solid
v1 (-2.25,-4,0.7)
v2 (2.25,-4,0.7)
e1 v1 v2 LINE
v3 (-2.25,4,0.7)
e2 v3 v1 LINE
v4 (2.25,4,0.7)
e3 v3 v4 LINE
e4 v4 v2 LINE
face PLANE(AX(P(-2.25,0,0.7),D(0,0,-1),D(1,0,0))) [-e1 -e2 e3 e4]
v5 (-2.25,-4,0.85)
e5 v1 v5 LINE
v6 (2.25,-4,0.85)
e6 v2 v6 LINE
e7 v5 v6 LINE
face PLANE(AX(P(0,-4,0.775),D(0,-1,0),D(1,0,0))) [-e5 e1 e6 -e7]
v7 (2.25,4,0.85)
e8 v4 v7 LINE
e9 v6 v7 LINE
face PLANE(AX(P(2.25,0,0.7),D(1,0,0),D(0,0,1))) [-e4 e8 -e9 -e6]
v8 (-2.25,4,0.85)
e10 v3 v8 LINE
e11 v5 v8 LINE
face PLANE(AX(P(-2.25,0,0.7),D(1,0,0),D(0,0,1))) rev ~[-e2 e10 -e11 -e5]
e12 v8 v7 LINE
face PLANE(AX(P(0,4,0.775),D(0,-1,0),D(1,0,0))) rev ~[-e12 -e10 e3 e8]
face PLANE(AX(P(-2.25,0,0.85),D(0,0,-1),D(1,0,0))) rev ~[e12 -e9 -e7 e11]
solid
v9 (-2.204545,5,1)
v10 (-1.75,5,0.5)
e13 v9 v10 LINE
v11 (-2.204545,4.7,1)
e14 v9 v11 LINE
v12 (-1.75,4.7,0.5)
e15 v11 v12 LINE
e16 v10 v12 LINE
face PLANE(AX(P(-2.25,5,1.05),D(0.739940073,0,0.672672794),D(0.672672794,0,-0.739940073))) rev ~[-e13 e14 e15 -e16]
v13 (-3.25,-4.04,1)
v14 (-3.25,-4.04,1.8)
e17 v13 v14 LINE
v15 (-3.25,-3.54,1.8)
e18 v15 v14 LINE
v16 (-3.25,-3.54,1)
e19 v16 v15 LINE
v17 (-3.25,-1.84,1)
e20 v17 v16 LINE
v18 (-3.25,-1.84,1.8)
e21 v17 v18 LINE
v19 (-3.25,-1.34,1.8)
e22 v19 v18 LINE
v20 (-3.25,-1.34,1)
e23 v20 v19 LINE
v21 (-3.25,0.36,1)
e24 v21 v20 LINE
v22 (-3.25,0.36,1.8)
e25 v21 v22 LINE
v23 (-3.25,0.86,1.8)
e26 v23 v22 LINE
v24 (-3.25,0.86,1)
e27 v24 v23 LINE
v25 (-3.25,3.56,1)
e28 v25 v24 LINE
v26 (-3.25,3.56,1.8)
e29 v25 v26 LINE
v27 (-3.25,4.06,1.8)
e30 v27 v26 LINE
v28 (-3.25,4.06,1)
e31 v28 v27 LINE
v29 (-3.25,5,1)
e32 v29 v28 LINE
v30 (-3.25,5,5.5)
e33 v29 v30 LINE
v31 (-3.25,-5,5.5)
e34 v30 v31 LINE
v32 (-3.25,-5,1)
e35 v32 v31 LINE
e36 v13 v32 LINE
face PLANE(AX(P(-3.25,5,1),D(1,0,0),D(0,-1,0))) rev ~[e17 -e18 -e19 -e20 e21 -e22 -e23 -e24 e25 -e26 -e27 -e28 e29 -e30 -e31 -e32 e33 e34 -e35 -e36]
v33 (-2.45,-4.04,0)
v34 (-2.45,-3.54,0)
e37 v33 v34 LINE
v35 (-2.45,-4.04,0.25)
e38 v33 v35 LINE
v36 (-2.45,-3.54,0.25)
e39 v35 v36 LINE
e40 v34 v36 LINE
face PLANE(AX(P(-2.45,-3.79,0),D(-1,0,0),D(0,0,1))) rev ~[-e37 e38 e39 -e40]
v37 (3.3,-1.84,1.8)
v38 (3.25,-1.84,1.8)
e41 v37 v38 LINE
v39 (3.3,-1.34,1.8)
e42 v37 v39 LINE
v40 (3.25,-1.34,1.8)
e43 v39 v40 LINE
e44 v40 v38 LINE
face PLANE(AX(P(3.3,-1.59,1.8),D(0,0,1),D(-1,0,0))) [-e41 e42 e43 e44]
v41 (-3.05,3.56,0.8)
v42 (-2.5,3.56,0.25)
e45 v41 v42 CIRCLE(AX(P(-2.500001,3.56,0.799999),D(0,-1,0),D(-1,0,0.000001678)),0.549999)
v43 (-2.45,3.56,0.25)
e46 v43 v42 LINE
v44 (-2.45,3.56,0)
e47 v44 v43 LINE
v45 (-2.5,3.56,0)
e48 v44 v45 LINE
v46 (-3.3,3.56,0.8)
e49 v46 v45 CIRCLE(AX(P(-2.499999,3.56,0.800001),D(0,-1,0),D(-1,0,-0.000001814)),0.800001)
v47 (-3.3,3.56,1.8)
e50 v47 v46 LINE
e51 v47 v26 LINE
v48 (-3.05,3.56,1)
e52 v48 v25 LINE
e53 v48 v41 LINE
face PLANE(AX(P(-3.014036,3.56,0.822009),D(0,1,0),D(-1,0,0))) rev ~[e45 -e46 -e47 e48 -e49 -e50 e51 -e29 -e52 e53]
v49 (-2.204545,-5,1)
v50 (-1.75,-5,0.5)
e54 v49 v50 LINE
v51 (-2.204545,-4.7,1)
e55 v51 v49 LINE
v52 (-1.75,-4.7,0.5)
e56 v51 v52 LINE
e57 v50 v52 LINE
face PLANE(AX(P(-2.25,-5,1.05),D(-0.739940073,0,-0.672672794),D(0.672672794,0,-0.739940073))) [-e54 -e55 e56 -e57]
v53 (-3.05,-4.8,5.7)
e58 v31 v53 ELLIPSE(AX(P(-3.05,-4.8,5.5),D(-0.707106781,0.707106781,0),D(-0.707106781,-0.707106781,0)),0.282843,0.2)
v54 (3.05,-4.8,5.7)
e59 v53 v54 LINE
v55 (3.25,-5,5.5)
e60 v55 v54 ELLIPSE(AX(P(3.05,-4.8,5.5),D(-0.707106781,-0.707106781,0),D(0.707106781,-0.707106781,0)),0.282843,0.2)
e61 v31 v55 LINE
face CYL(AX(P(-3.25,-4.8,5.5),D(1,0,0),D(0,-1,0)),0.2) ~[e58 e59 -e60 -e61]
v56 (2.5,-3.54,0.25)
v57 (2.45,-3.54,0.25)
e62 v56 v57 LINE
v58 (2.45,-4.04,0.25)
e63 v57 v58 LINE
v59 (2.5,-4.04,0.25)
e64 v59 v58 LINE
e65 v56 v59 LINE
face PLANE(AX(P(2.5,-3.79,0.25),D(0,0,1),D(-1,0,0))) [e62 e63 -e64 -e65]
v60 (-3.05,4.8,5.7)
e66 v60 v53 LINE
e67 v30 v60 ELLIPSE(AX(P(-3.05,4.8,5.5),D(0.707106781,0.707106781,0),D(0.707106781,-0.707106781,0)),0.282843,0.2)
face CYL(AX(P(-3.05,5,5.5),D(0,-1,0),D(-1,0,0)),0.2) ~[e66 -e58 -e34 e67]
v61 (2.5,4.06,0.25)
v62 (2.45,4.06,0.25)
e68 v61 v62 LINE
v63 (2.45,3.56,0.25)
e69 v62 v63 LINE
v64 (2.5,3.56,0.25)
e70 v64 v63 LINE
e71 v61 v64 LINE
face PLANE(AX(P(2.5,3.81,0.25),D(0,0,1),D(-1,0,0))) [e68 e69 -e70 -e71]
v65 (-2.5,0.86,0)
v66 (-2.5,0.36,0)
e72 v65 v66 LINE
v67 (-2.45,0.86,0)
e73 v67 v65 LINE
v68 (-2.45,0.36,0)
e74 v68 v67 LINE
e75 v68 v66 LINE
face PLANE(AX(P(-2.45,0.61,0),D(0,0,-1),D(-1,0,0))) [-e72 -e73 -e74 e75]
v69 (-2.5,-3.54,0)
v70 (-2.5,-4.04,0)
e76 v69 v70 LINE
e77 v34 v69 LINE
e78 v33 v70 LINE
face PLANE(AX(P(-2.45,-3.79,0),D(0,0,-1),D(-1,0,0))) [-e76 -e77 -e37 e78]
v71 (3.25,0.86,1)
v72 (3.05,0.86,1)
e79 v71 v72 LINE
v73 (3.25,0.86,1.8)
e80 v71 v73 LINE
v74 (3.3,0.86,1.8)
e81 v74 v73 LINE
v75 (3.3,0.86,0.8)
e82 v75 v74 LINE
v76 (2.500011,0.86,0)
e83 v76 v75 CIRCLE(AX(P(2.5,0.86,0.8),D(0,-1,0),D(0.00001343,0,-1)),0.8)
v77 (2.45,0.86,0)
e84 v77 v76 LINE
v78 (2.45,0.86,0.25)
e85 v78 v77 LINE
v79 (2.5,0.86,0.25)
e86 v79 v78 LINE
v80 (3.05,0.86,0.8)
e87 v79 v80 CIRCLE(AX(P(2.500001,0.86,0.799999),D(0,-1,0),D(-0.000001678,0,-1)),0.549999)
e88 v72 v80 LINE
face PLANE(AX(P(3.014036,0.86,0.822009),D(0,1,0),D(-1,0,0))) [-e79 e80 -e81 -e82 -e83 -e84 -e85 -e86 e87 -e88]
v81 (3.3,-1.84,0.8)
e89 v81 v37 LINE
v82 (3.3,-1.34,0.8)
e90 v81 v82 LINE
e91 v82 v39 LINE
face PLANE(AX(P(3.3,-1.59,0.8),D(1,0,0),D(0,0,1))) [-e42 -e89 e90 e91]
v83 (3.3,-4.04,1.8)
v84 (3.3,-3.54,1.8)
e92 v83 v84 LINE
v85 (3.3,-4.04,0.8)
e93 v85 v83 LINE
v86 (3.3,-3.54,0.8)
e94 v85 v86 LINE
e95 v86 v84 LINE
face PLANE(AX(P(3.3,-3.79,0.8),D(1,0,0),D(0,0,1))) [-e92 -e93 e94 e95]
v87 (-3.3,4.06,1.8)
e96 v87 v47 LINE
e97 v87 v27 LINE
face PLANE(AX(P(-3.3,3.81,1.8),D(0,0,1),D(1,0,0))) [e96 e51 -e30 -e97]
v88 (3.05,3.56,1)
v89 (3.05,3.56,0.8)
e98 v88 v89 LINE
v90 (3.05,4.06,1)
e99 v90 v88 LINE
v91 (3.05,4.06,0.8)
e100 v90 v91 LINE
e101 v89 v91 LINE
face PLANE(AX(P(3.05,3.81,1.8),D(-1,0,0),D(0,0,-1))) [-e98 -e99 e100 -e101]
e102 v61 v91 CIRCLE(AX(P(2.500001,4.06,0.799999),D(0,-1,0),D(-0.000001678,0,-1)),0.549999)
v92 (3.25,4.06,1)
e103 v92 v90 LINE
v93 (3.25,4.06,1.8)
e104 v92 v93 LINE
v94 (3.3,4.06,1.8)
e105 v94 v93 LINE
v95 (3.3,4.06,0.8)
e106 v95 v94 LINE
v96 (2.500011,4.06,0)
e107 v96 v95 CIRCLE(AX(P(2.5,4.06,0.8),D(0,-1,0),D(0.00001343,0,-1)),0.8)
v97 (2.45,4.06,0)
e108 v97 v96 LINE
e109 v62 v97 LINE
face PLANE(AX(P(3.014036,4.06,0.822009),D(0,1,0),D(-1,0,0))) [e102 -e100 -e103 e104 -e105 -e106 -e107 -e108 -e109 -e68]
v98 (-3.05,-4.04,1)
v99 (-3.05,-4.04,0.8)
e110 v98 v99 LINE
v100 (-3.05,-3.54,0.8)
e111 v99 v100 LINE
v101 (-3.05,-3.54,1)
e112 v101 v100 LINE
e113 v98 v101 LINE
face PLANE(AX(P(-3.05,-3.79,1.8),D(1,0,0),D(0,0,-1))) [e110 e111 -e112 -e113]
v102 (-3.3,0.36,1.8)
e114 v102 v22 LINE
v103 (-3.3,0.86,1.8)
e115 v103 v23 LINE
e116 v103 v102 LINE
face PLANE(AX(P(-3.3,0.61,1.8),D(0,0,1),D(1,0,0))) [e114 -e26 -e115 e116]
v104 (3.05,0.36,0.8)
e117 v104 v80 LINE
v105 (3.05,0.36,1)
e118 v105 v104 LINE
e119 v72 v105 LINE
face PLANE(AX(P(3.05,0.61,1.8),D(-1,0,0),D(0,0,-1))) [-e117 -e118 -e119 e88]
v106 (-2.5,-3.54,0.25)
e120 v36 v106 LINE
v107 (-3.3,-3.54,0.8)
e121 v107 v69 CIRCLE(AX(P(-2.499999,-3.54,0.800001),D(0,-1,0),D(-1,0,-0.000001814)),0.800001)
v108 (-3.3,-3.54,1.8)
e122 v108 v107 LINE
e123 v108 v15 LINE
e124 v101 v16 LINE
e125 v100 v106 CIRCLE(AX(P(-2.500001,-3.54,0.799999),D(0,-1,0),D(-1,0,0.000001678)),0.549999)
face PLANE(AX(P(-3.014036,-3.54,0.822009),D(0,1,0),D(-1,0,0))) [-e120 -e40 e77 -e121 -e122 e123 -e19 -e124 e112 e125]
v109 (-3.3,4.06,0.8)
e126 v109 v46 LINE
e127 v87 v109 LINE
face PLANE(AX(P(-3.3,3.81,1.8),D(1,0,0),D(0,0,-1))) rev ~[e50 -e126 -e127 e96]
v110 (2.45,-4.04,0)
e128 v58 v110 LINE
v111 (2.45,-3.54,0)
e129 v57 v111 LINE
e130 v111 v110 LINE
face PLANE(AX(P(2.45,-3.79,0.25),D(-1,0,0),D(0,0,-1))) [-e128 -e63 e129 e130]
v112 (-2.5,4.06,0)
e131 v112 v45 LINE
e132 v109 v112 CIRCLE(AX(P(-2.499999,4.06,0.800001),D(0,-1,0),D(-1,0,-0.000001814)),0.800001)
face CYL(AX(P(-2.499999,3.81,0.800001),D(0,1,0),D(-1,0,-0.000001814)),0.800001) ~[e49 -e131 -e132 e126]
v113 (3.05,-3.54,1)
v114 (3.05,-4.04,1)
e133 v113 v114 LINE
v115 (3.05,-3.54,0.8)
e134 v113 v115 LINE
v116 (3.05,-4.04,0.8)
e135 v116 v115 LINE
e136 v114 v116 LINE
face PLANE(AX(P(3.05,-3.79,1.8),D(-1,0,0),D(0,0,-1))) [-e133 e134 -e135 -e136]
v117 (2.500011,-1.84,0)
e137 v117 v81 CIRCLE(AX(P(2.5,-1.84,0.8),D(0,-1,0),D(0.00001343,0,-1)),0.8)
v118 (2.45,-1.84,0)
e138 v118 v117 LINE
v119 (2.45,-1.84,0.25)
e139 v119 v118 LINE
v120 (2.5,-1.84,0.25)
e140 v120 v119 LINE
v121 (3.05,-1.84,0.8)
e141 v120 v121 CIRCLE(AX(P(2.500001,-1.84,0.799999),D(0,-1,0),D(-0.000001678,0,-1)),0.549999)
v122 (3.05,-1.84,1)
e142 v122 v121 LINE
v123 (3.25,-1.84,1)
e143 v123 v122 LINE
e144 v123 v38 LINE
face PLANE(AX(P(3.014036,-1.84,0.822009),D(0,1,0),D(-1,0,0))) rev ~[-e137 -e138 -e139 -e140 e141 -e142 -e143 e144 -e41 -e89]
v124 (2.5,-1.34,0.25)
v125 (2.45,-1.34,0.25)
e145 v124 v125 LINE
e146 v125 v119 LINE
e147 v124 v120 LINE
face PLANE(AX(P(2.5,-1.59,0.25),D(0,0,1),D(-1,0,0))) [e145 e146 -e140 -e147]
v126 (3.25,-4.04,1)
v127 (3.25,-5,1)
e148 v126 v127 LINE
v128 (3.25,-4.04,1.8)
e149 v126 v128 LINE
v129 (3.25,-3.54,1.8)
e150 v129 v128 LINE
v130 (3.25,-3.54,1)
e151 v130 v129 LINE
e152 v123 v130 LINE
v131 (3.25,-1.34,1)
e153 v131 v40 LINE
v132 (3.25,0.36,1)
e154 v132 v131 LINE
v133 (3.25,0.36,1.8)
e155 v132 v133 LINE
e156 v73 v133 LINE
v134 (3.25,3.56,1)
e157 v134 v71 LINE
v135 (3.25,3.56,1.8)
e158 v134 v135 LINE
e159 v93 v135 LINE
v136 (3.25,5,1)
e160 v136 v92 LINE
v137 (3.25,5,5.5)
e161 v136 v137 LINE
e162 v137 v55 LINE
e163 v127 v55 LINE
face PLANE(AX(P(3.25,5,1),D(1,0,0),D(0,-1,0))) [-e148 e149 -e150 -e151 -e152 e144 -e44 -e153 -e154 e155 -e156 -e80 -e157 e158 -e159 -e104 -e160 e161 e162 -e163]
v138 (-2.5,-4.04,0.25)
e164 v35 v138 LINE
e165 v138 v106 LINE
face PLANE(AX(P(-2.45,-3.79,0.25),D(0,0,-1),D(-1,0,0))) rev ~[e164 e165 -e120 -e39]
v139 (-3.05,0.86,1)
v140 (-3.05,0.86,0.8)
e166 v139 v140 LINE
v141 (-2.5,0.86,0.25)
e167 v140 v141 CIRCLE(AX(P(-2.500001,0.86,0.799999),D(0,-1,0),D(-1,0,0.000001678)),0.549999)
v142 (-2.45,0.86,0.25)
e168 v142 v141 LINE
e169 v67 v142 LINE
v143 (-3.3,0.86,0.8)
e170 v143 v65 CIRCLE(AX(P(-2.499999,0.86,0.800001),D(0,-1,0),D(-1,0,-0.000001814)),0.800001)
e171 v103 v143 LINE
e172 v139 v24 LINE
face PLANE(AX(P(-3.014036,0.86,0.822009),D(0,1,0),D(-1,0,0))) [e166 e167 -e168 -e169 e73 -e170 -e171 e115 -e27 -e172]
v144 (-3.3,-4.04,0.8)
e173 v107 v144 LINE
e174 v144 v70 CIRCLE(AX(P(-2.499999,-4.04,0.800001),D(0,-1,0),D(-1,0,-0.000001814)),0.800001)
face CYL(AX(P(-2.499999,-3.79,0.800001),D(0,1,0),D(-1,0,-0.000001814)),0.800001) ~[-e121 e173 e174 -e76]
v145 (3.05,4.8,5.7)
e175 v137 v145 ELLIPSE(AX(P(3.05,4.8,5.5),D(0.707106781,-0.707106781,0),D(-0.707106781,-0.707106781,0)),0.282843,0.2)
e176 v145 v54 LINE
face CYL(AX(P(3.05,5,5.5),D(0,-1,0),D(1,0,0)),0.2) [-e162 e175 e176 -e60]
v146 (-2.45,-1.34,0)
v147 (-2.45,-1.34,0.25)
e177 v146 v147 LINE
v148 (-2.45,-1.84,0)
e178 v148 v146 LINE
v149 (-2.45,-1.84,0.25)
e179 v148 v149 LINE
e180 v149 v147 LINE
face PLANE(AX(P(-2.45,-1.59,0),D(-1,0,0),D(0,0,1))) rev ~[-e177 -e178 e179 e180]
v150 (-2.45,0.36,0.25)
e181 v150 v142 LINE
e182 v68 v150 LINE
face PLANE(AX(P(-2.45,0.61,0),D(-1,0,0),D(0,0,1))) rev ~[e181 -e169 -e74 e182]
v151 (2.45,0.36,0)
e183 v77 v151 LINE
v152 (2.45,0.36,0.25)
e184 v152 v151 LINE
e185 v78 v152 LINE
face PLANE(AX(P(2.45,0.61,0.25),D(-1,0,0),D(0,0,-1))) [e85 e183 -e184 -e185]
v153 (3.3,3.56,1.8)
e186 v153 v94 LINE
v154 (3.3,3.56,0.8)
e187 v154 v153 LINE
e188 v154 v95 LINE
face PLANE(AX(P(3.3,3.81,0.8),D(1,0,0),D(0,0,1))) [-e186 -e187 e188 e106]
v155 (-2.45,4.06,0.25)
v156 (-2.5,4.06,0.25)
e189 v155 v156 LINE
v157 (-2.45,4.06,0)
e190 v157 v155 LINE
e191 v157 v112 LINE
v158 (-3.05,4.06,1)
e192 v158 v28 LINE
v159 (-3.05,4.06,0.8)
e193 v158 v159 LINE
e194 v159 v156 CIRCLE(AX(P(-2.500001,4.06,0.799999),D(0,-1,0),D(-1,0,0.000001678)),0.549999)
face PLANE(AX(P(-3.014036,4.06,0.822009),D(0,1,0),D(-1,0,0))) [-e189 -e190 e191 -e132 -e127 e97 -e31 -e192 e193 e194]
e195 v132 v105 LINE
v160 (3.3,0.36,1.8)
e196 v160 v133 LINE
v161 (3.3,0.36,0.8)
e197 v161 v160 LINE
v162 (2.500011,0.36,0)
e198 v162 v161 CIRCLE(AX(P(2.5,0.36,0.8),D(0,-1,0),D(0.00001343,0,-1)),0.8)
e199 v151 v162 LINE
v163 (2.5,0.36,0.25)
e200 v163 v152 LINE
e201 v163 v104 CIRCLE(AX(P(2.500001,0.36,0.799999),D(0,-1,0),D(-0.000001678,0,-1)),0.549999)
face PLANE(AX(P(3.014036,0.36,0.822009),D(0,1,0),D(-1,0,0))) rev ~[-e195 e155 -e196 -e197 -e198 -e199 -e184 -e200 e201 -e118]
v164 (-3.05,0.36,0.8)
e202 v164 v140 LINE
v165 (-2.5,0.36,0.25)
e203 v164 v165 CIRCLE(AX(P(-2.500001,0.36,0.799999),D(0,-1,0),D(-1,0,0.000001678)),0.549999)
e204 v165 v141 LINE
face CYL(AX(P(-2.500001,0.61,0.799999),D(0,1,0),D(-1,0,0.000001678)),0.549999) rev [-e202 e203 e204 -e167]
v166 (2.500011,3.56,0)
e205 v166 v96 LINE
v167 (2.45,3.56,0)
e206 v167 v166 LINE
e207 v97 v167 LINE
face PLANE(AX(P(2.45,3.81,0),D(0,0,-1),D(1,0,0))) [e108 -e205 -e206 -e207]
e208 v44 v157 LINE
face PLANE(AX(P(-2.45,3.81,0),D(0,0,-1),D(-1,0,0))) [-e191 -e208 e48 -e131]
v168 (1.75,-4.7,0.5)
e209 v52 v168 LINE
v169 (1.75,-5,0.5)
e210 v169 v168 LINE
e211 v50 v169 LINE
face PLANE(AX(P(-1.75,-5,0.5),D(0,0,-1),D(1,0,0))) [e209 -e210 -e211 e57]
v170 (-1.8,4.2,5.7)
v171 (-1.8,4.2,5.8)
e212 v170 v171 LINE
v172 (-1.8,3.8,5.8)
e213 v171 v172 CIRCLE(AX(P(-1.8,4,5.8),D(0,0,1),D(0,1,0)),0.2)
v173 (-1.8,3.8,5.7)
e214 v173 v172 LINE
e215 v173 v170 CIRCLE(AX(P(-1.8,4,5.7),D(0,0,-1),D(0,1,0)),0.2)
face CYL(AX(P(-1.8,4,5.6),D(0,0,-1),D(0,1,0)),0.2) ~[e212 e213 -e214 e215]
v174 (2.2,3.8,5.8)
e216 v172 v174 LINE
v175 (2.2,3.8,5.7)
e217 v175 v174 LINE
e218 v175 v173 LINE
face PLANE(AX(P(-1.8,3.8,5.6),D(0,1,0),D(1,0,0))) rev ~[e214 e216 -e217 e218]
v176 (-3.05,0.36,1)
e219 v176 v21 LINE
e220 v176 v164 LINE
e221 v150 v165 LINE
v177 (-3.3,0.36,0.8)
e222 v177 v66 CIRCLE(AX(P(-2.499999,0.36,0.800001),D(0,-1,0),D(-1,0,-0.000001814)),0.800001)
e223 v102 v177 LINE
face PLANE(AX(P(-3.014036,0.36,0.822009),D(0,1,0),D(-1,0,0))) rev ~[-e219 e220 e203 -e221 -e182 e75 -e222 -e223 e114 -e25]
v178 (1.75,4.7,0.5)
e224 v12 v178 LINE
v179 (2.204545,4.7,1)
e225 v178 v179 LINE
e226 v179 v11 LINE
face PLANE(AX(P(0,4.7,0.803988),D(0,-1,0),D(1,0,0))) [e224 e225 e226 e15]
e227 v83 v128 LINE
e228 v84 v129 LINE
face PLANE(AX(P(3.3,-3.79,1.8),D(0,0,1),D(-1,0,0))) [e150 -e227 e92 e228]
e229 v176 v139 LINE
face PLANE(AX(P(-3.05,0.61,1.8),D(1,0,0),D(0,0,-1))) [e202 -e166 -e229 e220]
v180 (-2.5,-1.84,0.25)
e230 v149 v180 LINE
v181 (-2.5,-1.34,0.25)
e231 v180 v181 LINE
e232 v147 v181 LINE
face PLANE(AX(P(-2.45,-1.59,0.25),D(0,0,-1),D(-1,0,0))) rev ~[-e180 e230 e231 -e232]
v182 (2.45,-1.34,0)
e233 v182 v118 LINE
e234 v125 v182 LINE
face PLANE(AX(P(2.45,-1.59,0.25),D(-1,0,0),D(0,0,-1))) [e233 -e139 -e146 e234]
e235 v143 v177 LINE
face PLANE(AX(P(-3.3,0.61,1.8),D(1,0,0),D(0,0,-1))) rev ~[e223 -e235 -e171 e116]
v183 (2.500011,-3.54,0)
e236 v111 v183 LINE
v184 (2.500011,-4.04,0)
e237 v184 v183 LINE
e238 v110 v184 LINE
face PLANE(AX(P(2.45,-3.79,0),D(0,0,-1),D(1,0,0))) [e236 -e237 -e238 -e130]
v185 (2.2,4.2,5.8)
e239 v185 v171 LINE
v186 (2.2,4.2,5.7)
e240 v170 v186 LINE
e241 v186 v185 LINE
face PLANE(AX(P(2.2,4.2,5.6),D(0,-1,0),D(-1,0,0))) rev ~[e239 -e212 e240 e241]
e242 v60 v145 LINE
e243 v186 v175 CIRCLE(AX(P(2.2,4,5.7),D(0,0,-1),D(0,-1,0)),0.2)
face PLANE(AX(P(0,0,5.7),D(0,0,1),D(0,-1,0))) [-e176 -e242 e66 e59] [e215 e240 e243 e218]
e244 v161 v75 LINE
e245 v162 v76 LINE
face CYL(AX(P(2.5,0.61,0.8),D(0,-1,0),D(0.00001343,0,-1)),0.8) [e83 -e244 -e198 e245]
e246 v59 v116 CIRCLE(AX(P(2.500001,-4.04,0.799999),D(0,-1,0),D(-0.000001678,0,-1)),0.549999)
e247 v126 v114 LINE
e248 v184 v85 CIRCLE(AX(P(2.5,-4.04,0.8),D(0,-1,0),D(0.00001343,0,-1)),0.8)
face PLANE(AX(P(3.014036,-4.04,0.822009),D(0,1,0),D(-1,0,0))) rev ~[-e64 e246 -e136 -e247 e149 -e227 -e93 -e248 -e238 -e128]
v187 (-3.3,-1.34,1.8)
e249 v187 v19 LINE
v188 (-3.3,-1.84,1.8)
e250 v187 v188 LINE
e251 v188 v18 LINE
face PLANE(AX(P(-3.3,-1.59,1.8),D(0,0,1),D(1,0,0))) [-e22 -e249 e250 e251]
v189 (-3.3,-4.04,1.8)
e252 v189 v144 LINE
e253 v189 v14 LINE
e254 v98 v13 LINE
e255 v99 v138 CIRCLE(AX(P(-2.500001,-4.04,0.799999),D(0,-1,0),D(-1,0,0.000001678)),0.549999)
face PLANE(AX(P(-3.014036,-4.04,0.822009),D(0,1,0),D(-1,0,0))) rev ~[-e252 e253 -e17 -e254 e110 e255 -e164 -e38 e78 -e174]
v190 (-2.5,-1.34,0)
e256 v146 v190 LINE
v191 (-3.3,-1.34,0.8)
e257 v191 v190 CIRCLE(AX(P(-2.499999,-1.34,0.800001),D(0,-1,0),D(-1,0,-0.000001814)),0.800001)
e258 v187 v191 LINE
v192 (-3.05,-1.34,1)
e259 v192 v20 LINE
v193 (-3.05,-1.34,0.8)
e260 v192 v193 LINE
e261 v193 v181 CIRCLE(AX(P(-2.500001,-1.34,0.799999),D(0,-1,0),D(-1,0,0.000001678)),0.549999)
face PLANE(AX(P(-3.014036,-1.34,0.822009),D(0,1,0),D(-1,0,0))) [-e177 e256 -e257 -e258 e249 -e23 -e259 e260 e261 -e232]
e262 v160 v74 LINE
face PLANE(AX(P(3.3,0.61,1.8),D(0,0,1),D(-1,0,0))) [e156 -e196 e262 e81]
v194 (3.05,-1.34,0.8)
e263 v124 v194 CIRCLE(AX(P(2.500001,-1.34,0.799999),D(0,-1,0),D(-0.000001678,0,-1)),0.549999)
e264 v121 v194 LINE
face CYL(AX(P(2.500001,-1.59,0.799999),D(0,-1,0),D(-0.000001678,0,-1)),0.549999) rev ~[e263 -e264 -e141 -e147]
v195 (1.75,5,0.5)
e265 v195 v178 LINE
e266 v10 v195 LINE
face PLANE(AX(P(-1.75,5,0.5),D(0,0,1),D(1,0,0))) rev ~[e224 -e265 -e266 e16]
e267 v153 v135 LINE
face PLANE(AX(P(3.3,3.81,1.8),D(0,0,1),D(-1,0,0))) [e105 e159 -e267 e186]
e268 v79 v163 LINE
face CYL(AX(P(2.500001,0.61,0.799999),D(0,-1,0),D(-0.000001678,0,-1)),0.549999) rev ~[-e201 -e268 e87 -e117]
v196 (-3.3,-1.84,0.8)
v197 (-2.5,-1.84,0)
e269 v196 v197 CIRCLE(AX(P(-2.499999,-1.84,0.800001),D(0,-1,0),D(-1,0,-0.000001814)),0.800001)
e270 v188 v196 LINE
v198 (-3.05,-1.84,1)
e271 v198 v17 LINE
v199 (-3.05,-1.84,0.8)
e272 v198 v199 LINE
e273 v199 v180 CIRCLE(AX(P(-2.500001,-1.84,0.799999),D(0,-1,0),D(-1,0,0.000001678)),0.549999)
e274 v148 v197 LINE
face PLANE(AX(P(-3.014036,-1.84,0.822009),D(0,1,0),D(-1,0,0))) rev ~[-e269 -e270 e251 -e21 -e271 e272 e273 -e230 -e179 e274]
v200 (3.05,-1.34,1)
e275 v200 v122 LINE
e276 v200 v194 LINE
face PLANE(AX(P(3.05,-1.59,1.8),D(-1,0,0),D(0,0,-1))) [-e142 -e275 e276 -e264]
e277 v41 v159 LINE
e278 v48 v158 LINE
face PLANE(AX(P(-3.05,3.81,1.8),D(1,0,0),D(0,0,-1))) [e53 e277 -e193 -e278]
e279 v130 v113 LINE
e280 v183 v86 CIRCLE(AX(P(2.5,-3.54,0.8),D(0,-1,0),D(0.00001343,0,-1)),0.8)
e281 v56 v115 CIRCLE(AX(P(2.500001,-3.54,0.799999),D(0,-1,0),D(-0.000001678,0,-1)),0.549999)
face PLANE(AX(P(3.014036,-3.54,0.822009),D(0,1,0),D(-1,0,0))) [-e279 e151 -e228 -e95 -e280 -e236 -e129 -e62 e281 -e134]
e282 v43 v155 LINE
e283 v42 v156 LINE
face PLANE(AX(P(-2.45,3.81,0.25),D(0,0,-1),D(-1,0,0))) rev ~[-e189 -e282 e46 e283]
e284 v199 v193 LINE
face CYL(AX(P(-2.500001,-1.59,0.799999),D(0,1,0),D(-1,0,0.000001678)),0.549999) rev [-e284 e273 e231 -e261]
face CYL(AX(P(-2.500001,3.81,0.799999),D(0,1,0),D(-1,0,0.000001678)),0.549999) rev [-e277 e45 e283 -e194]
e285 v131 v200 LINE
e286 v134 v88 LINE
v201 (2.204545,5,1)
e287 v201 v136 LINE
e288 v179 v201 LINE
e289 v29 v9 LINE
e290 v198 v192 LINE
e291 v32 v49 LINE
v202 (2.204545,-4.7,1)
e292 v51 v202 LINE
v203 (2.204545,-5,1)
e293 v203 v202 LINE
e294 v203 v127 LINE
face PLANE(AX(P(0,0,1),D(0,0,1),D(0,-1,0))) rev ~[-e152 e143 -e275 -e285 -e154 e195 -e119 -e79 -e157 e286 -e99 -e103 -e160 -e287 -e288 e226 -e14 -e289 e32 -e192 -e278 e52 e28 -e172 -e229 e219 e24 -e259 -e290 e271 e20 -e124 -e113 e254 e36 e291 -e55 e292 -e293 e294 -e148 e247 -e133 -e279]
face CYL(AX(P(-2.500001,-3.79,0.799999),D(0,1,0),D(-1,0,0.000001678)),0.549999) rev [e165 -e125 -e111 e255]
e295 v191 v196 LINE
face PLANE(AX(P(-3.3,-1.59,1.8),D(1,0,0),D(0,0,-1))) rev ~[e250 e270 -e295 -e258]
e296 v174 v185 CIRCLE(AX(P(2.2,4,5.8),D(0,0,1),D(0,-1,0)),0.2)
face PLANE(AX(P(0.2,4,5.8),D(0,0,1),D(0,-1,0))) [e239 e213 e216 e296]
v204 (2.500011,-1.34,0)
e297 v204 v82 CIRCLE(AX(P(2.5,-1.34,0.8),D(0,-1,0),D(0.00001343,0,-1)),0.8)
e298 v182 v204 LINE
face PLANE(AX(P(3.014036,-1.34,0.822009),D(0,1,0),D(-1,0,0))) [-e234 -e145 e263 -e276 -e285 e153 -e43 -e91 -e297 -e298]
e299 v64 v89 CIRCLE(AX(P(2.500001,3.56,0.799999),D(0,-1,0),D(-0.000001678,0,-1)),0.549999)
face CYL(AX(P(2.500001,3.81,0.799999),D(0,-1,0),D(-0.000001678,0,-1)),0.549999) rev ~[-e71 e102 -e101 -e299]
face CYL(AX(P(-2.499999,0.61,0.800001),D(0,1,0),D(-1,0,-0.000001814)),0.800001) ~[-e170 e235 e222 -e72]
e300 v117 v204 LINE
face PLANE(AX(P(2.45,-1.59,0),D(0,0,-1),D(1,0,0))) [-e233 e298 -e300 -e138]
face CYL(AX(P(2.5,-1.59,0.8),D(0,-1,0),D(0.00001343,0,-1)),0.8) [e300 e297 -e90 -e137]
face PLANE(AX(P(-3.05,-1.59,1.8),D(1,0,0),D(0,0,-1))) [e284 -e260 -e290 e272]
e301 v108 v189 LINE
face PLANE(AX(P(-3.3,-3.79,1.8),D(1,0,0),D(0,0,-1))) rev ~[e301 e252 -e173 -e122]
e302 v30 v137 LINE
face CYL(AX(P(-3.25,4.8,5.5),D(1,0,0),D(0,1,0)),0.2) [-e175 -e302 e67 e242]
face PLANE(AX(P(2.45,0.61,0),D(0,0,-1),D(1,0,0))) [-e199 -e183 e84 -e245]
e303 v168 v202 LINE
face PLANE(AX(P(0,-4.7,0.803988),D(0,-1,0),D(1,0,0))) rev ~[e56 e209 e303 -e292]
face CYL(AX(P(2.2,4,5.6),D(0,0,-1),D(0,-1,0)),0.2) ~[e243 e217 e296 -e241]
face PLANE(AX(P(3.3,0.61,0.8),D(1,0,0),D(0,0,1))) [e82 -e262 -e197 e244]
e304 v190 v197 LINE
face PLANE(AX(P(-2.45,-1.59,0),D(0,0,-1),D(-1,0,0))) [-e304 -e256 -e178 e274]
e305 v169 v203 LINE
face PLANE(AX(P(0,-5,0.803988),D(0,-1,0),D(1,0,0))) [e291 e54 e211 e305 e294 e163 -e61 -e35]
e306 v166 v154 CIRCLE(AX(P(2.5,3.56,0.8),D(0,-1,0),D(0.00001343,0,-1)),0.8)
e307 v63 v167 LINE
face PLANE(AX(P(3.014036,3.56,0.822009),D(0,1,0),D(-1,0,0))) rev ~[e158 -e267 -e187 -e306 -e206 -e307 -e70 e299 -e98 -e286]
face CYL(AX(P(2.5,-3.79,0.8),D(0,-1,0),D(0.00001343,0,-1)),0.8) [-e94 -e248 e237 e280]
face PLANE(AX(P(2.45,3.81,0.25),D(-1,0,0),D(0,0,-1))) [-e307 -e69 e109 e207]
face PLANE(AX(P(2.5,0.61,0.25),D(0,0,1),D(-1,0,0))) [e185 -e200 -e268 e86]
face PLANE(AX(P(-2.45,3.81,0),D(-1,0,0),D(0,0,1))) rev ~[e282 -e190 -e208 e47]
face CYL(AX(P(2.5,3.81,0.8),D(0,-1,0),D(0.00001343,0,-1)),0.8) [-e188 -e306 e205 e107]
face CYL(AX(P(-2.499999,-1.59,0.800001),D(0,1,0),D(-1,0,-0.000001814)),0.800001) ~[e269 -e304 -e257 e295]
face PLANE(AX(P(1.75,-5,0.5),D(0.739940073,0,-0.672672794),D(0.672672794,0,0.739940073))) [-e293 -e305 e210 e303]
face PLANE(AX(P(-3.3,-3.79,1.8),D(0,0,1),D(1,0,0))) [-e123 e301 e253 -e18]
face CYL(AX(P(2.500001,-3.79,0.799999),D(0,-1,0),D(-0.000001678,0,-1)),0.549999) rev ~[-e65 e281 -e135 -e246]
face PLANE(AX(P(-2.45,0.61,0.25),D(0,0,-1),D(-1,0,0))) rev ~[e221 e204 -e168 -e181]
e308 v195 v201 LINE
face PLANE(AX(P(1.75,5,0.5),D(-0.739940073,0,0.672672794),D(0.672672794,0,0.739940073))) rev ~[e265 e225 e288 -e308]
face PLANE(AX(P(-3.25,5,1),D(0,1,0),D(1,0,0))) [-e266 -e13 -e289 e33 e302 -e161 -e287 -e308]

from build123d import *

# Parameters (mm, degrees)
SKETCH_W     = 10
SKETCH_H     = 6.5
PAD_DEPTH    = 4.7
FILLET_R     = 0.2
PAD010_DEPTH = 0.25
PAD012_DEPTH = 0.25
PAD007_DEPTH = 0.3
SKETCH008_W  = 4.5
SKETCH008_H  = 0.15
PAD006_DEPTH = 4
PAD013_DEPTH = 0.25
PAD011_DEPTH = 0.25
PAD014_DEPTH = 0.2
PAD008_DEPTH = 0.3


with BuildPart() as fillet_body:
    # Sketch → Pad (new body)
    with BuildSketch(Plane(origin=(0, 0, 1), x_dir=(0, -1, 0), z_dir=(0, 0, 1))):
        Rectangle(SKETCH_W, SKETCH_H)
    extrude(amount=PAD_DEPTH)

    # Fillet
    fillet_edges = [fillet_body.edges().sort_by_distance(p)[0] for p in [
        (-3.25, 0, 5.7),
        (0, -5, 5.7),
        (3.25, 0, 5.7),
        (0, 5, 5.7),
    ]]
    fillet(fillet_edges, radius=FILLET_R)


with BuildPart() as pad010:
    # Sketch011 → Pad010 (new body, symmetric)
    with BuildSketch(Plane.XZ.offset(1.59)):
        with BuildLine():
            Line((-3.3, 1.8), (-3.05, 1.8))
            Line((-3.05, 1.8), (-3.05, 0.8))
            ThreePointArc((-3.05, 0.8), (-2.888909, 0.411091), (-2.5, 0.25))
            Line((-2.45, 0.25), (-2.5, 0.25))
            Line((-2.45, 0), (-2.45, 0.25))
            Line((-2.45, 0), (-2.5, 0))
            ThreePointArc((-3.3, 0.8), (-3.065685, 0.234315), (-2.5, 0))
            Line((-3.3, 1.8), (-3.3, 0.8))
        make_face()
        with BuildLine():
            ThreePointArc((2.5, 0.25), (2.888909, 0.411091), (3.05, 0.8))
            Line((3.05, 1.8), (3.05, 0.8))
            Line((3.3, 1.8), (3.05, 1.8))
            Line((3.3, 0.8), (3.3, 1.8))
            ThreePointArc((2.500011, 0), (3.065689, 0.234318), (3.3, 0.8))
            Line((2.45, 0), (2.500011, 0))
            Line((2.45, 0.25), (2.45, 0))
            Line((2.5, 0.25), (2.45, 0.25))
        make_face()
    extrude(amount=PAD010_DEPTH, both=True)


with BuildPart() as pad012:
    # Sketch013 → Pad012 (new body, symmetric)
    with BuildSketch(Plane.XZ.offset(3.79)):
        with BuildLine():
            Line((-3.3, 1.8), (-3.05, 1.8))
            Line((-3.05, 1.8), (-3.05, 0.8))
            ThreePointArc((-3.05, 0.8), (-2.888909, 0.411091), (-2.5, 0.25))
            Line((-2.45, 0.25), (-2.5, 0.25))
            Line((-2.45, 0), (-2.45, 0.25))
            Line((-2.45, 0), (-2.5, 0))
            ThreePointArc((-3.3, 0.8), (-3.065685, 0.234315), (-2.5, 0))
            Line((-3.3, 1.8), (-3.3, 0.8))
        make_face()
        with BuildLine():
            ThreePointArc((2.5, 0.25), (2.888909, 0.411091), (3.05, 0.8))
            Line((3.05, 1.8), (3.05, 0.8))
            Line((3.3, 1.8), (3.05, 1.8))
            Line((3.3, 0.8), (3.3, 1.8))
            ThreePointArc((2.500011, 0), (3.065689, 0.234318), (3.3, 0.8))
            Line((2.45, 0), (2.500011, 0))
            Line((2.45, 0.25), (2.45, 0))
            Line((2.5, 0.25), (2.45, 0.25))
        make_face()
    extrude(amount=PAD012_DEPTH, both=True)


with BuildPart() as pad007:
    # Sketch009 → Pad007 (new body)
    with BuildSketch(Plane.XZ.offset(5)):
        Polygon((-1.75, 0.5), (1.75, 0.5), (2.25, 1.05), (-2.25, 1.05), align=None)
    extrude(amount=-PAD007_DEPTH)


with BuildPart() as pad006:
    # Sketch008 → Pad006 (new body, symmetric)
    with BuildSketch(Plane.XZ):
        with Locations((0, 0.775)):
            Rectangle(SKETCH008_W, SKETCH008_H)
    extrude(amount=PAD006_DEPTH, both=True)


with BuildPart() as pad013:
    # Sketch014 → Pad013 (new body, symmetric)
    with BuildSketch(Plane.XZ.offset(-0.61)):
        with BuildLine():
            Line((-3.3, 1.8), (-3.05, 1.8))
            Line((-3.05, 1.8), (-3.05, 0.8))
            ThreePointArc((-3.05, 0.8), (-2.888909, 0.411091), (-2.5, 0.25))
            Line((-2.45, 0.25), (-2.5, 0.25))
            Line((-2.45, 0), (-2.45, 0.25))
            Line((-2.45, 0), (-2.5, 0))
            ThreePointArc((-3.3, 0.8), (-3.065685, 0.234315), (-2.5, 0))
            Line((-3.3, 1.8), (-3.3, 0.8))
        make_face()
        with BuildLine():
            ThreePointArc((2.5, 0.25), (2.888909, 0.411091), (3.05, 0.8))
            Line((3.05, 1.8), (3.05, 0.8))
            Line((3.3, 1.8), (3.05, 1.8))
            Line((3.3, 0.8), (3.3, 1.8))
            ThreePointArc((2.500011, 0), (3.065689, 0.234318), (3.3, 0.8))
            Line((2.45, 0), (2.500011, 0))
            Line((2.45, 0.25), (2.45, 0))
            Line((2.5, 0.25), (2.45, 0.25))
        make_face()
    extrude(amount=PAD013_DEPTH, both=True)


with BuildPart() as pad011:
    # Sketch012 → Pad011 (new body, symmetric)
    with BuildSketch(Plane.XZ.offset(-3.81)):
        with BuildLine():
            Line((-3.3, 1.8), (-3.05, 1.8))
            Line((-3.05, 1.8), (-3.05, 0.8))
            ThreePointArc((-3.05, 0.8), (-2.888909, 0.411091), (-2.5, 0.25))
            Line((-2.45, 0.25), (-2.5, 0.25))
            Line((-2.45, 0), (-2.45, 0.25))
            Line((-2.45, 0), (-2.5, 0))
            ThreePointArc((-3.3, 0.8), (-3.065685, 0.234315), (-2.5, 0))
            Line((-3.3, 1.8), (-3.3, 0.8))
        make_face()
        with BuildLine():
            ThreePointArc((2.5, 0.25), (2.888909, 0.411091), (3.05, 0.8))
            Line((3.05, 1.8), (3.05, 0.8))
            Line((3.3, 1.8), (3.05, 1.8))
            Line((3.3, 0.8), (3.3, 1.8))
            ThreePointArc((2.500011, 0), (3.065689, 0.234318), (3.3, 0.8))
            Line((2.45, 0), (2.500011, 0))
            Line((2.45, 0.25), (2.45, 0))
            Line((2.5, 0.25), (2.45, 0.25))
        make_face()
    extrude(amount=PAD011_DEPTH, both=True)


with BuildPart() as pad014:
    # Sketch001 → Pad014 (new body)
    with BuildSketch(Plane(origin=(0, 0, 5.6), x_dir=(0, -1, 0), z_dir=(0, 0, 1))):
        with BuildLine():
            Line((-3.8, -1.8), (-3.8, 2.2))
            ThreePointArc((-3.8, 2.2), (-4, 2.4), (-4.2, 2.2))
            Line((-4.2, 2.2), (-4.2, -1.8))
            ThreePointArc((-4.2, -1.8), (-4, -2), (-3.8, -1.8))
        make_face()
    extrude(amount=PAD014_DEPTH)


with BuildPart() as relay_dpdt_omron_g6k_2g_y:
    # Sketch010 → Pad008 (new body)
    with BuildSketch(Plane.XZ.offset(-5)):
        Polygon((-1.75, 0.5), (1.75, 0.5), (2.25, 1.05), (-2.25, 1.05), align=None)
    extrude(amount=PAD008_DEPTH)

    # Pad008_mp_cp: union Fillet body, Pad010, Pad012, Pad007, Pad006, Pad013, Pad011, Pad014
    add(fillet_body.part)
    add(pad010.part)
    add(pad012.part)
    add(pad007.part)
    add(pad006.part)
    add(pad013.part)
    add(pad011.part)
    add(pad014.part)


solid = relay_dpdt_omron_g6k_2g_y.part
